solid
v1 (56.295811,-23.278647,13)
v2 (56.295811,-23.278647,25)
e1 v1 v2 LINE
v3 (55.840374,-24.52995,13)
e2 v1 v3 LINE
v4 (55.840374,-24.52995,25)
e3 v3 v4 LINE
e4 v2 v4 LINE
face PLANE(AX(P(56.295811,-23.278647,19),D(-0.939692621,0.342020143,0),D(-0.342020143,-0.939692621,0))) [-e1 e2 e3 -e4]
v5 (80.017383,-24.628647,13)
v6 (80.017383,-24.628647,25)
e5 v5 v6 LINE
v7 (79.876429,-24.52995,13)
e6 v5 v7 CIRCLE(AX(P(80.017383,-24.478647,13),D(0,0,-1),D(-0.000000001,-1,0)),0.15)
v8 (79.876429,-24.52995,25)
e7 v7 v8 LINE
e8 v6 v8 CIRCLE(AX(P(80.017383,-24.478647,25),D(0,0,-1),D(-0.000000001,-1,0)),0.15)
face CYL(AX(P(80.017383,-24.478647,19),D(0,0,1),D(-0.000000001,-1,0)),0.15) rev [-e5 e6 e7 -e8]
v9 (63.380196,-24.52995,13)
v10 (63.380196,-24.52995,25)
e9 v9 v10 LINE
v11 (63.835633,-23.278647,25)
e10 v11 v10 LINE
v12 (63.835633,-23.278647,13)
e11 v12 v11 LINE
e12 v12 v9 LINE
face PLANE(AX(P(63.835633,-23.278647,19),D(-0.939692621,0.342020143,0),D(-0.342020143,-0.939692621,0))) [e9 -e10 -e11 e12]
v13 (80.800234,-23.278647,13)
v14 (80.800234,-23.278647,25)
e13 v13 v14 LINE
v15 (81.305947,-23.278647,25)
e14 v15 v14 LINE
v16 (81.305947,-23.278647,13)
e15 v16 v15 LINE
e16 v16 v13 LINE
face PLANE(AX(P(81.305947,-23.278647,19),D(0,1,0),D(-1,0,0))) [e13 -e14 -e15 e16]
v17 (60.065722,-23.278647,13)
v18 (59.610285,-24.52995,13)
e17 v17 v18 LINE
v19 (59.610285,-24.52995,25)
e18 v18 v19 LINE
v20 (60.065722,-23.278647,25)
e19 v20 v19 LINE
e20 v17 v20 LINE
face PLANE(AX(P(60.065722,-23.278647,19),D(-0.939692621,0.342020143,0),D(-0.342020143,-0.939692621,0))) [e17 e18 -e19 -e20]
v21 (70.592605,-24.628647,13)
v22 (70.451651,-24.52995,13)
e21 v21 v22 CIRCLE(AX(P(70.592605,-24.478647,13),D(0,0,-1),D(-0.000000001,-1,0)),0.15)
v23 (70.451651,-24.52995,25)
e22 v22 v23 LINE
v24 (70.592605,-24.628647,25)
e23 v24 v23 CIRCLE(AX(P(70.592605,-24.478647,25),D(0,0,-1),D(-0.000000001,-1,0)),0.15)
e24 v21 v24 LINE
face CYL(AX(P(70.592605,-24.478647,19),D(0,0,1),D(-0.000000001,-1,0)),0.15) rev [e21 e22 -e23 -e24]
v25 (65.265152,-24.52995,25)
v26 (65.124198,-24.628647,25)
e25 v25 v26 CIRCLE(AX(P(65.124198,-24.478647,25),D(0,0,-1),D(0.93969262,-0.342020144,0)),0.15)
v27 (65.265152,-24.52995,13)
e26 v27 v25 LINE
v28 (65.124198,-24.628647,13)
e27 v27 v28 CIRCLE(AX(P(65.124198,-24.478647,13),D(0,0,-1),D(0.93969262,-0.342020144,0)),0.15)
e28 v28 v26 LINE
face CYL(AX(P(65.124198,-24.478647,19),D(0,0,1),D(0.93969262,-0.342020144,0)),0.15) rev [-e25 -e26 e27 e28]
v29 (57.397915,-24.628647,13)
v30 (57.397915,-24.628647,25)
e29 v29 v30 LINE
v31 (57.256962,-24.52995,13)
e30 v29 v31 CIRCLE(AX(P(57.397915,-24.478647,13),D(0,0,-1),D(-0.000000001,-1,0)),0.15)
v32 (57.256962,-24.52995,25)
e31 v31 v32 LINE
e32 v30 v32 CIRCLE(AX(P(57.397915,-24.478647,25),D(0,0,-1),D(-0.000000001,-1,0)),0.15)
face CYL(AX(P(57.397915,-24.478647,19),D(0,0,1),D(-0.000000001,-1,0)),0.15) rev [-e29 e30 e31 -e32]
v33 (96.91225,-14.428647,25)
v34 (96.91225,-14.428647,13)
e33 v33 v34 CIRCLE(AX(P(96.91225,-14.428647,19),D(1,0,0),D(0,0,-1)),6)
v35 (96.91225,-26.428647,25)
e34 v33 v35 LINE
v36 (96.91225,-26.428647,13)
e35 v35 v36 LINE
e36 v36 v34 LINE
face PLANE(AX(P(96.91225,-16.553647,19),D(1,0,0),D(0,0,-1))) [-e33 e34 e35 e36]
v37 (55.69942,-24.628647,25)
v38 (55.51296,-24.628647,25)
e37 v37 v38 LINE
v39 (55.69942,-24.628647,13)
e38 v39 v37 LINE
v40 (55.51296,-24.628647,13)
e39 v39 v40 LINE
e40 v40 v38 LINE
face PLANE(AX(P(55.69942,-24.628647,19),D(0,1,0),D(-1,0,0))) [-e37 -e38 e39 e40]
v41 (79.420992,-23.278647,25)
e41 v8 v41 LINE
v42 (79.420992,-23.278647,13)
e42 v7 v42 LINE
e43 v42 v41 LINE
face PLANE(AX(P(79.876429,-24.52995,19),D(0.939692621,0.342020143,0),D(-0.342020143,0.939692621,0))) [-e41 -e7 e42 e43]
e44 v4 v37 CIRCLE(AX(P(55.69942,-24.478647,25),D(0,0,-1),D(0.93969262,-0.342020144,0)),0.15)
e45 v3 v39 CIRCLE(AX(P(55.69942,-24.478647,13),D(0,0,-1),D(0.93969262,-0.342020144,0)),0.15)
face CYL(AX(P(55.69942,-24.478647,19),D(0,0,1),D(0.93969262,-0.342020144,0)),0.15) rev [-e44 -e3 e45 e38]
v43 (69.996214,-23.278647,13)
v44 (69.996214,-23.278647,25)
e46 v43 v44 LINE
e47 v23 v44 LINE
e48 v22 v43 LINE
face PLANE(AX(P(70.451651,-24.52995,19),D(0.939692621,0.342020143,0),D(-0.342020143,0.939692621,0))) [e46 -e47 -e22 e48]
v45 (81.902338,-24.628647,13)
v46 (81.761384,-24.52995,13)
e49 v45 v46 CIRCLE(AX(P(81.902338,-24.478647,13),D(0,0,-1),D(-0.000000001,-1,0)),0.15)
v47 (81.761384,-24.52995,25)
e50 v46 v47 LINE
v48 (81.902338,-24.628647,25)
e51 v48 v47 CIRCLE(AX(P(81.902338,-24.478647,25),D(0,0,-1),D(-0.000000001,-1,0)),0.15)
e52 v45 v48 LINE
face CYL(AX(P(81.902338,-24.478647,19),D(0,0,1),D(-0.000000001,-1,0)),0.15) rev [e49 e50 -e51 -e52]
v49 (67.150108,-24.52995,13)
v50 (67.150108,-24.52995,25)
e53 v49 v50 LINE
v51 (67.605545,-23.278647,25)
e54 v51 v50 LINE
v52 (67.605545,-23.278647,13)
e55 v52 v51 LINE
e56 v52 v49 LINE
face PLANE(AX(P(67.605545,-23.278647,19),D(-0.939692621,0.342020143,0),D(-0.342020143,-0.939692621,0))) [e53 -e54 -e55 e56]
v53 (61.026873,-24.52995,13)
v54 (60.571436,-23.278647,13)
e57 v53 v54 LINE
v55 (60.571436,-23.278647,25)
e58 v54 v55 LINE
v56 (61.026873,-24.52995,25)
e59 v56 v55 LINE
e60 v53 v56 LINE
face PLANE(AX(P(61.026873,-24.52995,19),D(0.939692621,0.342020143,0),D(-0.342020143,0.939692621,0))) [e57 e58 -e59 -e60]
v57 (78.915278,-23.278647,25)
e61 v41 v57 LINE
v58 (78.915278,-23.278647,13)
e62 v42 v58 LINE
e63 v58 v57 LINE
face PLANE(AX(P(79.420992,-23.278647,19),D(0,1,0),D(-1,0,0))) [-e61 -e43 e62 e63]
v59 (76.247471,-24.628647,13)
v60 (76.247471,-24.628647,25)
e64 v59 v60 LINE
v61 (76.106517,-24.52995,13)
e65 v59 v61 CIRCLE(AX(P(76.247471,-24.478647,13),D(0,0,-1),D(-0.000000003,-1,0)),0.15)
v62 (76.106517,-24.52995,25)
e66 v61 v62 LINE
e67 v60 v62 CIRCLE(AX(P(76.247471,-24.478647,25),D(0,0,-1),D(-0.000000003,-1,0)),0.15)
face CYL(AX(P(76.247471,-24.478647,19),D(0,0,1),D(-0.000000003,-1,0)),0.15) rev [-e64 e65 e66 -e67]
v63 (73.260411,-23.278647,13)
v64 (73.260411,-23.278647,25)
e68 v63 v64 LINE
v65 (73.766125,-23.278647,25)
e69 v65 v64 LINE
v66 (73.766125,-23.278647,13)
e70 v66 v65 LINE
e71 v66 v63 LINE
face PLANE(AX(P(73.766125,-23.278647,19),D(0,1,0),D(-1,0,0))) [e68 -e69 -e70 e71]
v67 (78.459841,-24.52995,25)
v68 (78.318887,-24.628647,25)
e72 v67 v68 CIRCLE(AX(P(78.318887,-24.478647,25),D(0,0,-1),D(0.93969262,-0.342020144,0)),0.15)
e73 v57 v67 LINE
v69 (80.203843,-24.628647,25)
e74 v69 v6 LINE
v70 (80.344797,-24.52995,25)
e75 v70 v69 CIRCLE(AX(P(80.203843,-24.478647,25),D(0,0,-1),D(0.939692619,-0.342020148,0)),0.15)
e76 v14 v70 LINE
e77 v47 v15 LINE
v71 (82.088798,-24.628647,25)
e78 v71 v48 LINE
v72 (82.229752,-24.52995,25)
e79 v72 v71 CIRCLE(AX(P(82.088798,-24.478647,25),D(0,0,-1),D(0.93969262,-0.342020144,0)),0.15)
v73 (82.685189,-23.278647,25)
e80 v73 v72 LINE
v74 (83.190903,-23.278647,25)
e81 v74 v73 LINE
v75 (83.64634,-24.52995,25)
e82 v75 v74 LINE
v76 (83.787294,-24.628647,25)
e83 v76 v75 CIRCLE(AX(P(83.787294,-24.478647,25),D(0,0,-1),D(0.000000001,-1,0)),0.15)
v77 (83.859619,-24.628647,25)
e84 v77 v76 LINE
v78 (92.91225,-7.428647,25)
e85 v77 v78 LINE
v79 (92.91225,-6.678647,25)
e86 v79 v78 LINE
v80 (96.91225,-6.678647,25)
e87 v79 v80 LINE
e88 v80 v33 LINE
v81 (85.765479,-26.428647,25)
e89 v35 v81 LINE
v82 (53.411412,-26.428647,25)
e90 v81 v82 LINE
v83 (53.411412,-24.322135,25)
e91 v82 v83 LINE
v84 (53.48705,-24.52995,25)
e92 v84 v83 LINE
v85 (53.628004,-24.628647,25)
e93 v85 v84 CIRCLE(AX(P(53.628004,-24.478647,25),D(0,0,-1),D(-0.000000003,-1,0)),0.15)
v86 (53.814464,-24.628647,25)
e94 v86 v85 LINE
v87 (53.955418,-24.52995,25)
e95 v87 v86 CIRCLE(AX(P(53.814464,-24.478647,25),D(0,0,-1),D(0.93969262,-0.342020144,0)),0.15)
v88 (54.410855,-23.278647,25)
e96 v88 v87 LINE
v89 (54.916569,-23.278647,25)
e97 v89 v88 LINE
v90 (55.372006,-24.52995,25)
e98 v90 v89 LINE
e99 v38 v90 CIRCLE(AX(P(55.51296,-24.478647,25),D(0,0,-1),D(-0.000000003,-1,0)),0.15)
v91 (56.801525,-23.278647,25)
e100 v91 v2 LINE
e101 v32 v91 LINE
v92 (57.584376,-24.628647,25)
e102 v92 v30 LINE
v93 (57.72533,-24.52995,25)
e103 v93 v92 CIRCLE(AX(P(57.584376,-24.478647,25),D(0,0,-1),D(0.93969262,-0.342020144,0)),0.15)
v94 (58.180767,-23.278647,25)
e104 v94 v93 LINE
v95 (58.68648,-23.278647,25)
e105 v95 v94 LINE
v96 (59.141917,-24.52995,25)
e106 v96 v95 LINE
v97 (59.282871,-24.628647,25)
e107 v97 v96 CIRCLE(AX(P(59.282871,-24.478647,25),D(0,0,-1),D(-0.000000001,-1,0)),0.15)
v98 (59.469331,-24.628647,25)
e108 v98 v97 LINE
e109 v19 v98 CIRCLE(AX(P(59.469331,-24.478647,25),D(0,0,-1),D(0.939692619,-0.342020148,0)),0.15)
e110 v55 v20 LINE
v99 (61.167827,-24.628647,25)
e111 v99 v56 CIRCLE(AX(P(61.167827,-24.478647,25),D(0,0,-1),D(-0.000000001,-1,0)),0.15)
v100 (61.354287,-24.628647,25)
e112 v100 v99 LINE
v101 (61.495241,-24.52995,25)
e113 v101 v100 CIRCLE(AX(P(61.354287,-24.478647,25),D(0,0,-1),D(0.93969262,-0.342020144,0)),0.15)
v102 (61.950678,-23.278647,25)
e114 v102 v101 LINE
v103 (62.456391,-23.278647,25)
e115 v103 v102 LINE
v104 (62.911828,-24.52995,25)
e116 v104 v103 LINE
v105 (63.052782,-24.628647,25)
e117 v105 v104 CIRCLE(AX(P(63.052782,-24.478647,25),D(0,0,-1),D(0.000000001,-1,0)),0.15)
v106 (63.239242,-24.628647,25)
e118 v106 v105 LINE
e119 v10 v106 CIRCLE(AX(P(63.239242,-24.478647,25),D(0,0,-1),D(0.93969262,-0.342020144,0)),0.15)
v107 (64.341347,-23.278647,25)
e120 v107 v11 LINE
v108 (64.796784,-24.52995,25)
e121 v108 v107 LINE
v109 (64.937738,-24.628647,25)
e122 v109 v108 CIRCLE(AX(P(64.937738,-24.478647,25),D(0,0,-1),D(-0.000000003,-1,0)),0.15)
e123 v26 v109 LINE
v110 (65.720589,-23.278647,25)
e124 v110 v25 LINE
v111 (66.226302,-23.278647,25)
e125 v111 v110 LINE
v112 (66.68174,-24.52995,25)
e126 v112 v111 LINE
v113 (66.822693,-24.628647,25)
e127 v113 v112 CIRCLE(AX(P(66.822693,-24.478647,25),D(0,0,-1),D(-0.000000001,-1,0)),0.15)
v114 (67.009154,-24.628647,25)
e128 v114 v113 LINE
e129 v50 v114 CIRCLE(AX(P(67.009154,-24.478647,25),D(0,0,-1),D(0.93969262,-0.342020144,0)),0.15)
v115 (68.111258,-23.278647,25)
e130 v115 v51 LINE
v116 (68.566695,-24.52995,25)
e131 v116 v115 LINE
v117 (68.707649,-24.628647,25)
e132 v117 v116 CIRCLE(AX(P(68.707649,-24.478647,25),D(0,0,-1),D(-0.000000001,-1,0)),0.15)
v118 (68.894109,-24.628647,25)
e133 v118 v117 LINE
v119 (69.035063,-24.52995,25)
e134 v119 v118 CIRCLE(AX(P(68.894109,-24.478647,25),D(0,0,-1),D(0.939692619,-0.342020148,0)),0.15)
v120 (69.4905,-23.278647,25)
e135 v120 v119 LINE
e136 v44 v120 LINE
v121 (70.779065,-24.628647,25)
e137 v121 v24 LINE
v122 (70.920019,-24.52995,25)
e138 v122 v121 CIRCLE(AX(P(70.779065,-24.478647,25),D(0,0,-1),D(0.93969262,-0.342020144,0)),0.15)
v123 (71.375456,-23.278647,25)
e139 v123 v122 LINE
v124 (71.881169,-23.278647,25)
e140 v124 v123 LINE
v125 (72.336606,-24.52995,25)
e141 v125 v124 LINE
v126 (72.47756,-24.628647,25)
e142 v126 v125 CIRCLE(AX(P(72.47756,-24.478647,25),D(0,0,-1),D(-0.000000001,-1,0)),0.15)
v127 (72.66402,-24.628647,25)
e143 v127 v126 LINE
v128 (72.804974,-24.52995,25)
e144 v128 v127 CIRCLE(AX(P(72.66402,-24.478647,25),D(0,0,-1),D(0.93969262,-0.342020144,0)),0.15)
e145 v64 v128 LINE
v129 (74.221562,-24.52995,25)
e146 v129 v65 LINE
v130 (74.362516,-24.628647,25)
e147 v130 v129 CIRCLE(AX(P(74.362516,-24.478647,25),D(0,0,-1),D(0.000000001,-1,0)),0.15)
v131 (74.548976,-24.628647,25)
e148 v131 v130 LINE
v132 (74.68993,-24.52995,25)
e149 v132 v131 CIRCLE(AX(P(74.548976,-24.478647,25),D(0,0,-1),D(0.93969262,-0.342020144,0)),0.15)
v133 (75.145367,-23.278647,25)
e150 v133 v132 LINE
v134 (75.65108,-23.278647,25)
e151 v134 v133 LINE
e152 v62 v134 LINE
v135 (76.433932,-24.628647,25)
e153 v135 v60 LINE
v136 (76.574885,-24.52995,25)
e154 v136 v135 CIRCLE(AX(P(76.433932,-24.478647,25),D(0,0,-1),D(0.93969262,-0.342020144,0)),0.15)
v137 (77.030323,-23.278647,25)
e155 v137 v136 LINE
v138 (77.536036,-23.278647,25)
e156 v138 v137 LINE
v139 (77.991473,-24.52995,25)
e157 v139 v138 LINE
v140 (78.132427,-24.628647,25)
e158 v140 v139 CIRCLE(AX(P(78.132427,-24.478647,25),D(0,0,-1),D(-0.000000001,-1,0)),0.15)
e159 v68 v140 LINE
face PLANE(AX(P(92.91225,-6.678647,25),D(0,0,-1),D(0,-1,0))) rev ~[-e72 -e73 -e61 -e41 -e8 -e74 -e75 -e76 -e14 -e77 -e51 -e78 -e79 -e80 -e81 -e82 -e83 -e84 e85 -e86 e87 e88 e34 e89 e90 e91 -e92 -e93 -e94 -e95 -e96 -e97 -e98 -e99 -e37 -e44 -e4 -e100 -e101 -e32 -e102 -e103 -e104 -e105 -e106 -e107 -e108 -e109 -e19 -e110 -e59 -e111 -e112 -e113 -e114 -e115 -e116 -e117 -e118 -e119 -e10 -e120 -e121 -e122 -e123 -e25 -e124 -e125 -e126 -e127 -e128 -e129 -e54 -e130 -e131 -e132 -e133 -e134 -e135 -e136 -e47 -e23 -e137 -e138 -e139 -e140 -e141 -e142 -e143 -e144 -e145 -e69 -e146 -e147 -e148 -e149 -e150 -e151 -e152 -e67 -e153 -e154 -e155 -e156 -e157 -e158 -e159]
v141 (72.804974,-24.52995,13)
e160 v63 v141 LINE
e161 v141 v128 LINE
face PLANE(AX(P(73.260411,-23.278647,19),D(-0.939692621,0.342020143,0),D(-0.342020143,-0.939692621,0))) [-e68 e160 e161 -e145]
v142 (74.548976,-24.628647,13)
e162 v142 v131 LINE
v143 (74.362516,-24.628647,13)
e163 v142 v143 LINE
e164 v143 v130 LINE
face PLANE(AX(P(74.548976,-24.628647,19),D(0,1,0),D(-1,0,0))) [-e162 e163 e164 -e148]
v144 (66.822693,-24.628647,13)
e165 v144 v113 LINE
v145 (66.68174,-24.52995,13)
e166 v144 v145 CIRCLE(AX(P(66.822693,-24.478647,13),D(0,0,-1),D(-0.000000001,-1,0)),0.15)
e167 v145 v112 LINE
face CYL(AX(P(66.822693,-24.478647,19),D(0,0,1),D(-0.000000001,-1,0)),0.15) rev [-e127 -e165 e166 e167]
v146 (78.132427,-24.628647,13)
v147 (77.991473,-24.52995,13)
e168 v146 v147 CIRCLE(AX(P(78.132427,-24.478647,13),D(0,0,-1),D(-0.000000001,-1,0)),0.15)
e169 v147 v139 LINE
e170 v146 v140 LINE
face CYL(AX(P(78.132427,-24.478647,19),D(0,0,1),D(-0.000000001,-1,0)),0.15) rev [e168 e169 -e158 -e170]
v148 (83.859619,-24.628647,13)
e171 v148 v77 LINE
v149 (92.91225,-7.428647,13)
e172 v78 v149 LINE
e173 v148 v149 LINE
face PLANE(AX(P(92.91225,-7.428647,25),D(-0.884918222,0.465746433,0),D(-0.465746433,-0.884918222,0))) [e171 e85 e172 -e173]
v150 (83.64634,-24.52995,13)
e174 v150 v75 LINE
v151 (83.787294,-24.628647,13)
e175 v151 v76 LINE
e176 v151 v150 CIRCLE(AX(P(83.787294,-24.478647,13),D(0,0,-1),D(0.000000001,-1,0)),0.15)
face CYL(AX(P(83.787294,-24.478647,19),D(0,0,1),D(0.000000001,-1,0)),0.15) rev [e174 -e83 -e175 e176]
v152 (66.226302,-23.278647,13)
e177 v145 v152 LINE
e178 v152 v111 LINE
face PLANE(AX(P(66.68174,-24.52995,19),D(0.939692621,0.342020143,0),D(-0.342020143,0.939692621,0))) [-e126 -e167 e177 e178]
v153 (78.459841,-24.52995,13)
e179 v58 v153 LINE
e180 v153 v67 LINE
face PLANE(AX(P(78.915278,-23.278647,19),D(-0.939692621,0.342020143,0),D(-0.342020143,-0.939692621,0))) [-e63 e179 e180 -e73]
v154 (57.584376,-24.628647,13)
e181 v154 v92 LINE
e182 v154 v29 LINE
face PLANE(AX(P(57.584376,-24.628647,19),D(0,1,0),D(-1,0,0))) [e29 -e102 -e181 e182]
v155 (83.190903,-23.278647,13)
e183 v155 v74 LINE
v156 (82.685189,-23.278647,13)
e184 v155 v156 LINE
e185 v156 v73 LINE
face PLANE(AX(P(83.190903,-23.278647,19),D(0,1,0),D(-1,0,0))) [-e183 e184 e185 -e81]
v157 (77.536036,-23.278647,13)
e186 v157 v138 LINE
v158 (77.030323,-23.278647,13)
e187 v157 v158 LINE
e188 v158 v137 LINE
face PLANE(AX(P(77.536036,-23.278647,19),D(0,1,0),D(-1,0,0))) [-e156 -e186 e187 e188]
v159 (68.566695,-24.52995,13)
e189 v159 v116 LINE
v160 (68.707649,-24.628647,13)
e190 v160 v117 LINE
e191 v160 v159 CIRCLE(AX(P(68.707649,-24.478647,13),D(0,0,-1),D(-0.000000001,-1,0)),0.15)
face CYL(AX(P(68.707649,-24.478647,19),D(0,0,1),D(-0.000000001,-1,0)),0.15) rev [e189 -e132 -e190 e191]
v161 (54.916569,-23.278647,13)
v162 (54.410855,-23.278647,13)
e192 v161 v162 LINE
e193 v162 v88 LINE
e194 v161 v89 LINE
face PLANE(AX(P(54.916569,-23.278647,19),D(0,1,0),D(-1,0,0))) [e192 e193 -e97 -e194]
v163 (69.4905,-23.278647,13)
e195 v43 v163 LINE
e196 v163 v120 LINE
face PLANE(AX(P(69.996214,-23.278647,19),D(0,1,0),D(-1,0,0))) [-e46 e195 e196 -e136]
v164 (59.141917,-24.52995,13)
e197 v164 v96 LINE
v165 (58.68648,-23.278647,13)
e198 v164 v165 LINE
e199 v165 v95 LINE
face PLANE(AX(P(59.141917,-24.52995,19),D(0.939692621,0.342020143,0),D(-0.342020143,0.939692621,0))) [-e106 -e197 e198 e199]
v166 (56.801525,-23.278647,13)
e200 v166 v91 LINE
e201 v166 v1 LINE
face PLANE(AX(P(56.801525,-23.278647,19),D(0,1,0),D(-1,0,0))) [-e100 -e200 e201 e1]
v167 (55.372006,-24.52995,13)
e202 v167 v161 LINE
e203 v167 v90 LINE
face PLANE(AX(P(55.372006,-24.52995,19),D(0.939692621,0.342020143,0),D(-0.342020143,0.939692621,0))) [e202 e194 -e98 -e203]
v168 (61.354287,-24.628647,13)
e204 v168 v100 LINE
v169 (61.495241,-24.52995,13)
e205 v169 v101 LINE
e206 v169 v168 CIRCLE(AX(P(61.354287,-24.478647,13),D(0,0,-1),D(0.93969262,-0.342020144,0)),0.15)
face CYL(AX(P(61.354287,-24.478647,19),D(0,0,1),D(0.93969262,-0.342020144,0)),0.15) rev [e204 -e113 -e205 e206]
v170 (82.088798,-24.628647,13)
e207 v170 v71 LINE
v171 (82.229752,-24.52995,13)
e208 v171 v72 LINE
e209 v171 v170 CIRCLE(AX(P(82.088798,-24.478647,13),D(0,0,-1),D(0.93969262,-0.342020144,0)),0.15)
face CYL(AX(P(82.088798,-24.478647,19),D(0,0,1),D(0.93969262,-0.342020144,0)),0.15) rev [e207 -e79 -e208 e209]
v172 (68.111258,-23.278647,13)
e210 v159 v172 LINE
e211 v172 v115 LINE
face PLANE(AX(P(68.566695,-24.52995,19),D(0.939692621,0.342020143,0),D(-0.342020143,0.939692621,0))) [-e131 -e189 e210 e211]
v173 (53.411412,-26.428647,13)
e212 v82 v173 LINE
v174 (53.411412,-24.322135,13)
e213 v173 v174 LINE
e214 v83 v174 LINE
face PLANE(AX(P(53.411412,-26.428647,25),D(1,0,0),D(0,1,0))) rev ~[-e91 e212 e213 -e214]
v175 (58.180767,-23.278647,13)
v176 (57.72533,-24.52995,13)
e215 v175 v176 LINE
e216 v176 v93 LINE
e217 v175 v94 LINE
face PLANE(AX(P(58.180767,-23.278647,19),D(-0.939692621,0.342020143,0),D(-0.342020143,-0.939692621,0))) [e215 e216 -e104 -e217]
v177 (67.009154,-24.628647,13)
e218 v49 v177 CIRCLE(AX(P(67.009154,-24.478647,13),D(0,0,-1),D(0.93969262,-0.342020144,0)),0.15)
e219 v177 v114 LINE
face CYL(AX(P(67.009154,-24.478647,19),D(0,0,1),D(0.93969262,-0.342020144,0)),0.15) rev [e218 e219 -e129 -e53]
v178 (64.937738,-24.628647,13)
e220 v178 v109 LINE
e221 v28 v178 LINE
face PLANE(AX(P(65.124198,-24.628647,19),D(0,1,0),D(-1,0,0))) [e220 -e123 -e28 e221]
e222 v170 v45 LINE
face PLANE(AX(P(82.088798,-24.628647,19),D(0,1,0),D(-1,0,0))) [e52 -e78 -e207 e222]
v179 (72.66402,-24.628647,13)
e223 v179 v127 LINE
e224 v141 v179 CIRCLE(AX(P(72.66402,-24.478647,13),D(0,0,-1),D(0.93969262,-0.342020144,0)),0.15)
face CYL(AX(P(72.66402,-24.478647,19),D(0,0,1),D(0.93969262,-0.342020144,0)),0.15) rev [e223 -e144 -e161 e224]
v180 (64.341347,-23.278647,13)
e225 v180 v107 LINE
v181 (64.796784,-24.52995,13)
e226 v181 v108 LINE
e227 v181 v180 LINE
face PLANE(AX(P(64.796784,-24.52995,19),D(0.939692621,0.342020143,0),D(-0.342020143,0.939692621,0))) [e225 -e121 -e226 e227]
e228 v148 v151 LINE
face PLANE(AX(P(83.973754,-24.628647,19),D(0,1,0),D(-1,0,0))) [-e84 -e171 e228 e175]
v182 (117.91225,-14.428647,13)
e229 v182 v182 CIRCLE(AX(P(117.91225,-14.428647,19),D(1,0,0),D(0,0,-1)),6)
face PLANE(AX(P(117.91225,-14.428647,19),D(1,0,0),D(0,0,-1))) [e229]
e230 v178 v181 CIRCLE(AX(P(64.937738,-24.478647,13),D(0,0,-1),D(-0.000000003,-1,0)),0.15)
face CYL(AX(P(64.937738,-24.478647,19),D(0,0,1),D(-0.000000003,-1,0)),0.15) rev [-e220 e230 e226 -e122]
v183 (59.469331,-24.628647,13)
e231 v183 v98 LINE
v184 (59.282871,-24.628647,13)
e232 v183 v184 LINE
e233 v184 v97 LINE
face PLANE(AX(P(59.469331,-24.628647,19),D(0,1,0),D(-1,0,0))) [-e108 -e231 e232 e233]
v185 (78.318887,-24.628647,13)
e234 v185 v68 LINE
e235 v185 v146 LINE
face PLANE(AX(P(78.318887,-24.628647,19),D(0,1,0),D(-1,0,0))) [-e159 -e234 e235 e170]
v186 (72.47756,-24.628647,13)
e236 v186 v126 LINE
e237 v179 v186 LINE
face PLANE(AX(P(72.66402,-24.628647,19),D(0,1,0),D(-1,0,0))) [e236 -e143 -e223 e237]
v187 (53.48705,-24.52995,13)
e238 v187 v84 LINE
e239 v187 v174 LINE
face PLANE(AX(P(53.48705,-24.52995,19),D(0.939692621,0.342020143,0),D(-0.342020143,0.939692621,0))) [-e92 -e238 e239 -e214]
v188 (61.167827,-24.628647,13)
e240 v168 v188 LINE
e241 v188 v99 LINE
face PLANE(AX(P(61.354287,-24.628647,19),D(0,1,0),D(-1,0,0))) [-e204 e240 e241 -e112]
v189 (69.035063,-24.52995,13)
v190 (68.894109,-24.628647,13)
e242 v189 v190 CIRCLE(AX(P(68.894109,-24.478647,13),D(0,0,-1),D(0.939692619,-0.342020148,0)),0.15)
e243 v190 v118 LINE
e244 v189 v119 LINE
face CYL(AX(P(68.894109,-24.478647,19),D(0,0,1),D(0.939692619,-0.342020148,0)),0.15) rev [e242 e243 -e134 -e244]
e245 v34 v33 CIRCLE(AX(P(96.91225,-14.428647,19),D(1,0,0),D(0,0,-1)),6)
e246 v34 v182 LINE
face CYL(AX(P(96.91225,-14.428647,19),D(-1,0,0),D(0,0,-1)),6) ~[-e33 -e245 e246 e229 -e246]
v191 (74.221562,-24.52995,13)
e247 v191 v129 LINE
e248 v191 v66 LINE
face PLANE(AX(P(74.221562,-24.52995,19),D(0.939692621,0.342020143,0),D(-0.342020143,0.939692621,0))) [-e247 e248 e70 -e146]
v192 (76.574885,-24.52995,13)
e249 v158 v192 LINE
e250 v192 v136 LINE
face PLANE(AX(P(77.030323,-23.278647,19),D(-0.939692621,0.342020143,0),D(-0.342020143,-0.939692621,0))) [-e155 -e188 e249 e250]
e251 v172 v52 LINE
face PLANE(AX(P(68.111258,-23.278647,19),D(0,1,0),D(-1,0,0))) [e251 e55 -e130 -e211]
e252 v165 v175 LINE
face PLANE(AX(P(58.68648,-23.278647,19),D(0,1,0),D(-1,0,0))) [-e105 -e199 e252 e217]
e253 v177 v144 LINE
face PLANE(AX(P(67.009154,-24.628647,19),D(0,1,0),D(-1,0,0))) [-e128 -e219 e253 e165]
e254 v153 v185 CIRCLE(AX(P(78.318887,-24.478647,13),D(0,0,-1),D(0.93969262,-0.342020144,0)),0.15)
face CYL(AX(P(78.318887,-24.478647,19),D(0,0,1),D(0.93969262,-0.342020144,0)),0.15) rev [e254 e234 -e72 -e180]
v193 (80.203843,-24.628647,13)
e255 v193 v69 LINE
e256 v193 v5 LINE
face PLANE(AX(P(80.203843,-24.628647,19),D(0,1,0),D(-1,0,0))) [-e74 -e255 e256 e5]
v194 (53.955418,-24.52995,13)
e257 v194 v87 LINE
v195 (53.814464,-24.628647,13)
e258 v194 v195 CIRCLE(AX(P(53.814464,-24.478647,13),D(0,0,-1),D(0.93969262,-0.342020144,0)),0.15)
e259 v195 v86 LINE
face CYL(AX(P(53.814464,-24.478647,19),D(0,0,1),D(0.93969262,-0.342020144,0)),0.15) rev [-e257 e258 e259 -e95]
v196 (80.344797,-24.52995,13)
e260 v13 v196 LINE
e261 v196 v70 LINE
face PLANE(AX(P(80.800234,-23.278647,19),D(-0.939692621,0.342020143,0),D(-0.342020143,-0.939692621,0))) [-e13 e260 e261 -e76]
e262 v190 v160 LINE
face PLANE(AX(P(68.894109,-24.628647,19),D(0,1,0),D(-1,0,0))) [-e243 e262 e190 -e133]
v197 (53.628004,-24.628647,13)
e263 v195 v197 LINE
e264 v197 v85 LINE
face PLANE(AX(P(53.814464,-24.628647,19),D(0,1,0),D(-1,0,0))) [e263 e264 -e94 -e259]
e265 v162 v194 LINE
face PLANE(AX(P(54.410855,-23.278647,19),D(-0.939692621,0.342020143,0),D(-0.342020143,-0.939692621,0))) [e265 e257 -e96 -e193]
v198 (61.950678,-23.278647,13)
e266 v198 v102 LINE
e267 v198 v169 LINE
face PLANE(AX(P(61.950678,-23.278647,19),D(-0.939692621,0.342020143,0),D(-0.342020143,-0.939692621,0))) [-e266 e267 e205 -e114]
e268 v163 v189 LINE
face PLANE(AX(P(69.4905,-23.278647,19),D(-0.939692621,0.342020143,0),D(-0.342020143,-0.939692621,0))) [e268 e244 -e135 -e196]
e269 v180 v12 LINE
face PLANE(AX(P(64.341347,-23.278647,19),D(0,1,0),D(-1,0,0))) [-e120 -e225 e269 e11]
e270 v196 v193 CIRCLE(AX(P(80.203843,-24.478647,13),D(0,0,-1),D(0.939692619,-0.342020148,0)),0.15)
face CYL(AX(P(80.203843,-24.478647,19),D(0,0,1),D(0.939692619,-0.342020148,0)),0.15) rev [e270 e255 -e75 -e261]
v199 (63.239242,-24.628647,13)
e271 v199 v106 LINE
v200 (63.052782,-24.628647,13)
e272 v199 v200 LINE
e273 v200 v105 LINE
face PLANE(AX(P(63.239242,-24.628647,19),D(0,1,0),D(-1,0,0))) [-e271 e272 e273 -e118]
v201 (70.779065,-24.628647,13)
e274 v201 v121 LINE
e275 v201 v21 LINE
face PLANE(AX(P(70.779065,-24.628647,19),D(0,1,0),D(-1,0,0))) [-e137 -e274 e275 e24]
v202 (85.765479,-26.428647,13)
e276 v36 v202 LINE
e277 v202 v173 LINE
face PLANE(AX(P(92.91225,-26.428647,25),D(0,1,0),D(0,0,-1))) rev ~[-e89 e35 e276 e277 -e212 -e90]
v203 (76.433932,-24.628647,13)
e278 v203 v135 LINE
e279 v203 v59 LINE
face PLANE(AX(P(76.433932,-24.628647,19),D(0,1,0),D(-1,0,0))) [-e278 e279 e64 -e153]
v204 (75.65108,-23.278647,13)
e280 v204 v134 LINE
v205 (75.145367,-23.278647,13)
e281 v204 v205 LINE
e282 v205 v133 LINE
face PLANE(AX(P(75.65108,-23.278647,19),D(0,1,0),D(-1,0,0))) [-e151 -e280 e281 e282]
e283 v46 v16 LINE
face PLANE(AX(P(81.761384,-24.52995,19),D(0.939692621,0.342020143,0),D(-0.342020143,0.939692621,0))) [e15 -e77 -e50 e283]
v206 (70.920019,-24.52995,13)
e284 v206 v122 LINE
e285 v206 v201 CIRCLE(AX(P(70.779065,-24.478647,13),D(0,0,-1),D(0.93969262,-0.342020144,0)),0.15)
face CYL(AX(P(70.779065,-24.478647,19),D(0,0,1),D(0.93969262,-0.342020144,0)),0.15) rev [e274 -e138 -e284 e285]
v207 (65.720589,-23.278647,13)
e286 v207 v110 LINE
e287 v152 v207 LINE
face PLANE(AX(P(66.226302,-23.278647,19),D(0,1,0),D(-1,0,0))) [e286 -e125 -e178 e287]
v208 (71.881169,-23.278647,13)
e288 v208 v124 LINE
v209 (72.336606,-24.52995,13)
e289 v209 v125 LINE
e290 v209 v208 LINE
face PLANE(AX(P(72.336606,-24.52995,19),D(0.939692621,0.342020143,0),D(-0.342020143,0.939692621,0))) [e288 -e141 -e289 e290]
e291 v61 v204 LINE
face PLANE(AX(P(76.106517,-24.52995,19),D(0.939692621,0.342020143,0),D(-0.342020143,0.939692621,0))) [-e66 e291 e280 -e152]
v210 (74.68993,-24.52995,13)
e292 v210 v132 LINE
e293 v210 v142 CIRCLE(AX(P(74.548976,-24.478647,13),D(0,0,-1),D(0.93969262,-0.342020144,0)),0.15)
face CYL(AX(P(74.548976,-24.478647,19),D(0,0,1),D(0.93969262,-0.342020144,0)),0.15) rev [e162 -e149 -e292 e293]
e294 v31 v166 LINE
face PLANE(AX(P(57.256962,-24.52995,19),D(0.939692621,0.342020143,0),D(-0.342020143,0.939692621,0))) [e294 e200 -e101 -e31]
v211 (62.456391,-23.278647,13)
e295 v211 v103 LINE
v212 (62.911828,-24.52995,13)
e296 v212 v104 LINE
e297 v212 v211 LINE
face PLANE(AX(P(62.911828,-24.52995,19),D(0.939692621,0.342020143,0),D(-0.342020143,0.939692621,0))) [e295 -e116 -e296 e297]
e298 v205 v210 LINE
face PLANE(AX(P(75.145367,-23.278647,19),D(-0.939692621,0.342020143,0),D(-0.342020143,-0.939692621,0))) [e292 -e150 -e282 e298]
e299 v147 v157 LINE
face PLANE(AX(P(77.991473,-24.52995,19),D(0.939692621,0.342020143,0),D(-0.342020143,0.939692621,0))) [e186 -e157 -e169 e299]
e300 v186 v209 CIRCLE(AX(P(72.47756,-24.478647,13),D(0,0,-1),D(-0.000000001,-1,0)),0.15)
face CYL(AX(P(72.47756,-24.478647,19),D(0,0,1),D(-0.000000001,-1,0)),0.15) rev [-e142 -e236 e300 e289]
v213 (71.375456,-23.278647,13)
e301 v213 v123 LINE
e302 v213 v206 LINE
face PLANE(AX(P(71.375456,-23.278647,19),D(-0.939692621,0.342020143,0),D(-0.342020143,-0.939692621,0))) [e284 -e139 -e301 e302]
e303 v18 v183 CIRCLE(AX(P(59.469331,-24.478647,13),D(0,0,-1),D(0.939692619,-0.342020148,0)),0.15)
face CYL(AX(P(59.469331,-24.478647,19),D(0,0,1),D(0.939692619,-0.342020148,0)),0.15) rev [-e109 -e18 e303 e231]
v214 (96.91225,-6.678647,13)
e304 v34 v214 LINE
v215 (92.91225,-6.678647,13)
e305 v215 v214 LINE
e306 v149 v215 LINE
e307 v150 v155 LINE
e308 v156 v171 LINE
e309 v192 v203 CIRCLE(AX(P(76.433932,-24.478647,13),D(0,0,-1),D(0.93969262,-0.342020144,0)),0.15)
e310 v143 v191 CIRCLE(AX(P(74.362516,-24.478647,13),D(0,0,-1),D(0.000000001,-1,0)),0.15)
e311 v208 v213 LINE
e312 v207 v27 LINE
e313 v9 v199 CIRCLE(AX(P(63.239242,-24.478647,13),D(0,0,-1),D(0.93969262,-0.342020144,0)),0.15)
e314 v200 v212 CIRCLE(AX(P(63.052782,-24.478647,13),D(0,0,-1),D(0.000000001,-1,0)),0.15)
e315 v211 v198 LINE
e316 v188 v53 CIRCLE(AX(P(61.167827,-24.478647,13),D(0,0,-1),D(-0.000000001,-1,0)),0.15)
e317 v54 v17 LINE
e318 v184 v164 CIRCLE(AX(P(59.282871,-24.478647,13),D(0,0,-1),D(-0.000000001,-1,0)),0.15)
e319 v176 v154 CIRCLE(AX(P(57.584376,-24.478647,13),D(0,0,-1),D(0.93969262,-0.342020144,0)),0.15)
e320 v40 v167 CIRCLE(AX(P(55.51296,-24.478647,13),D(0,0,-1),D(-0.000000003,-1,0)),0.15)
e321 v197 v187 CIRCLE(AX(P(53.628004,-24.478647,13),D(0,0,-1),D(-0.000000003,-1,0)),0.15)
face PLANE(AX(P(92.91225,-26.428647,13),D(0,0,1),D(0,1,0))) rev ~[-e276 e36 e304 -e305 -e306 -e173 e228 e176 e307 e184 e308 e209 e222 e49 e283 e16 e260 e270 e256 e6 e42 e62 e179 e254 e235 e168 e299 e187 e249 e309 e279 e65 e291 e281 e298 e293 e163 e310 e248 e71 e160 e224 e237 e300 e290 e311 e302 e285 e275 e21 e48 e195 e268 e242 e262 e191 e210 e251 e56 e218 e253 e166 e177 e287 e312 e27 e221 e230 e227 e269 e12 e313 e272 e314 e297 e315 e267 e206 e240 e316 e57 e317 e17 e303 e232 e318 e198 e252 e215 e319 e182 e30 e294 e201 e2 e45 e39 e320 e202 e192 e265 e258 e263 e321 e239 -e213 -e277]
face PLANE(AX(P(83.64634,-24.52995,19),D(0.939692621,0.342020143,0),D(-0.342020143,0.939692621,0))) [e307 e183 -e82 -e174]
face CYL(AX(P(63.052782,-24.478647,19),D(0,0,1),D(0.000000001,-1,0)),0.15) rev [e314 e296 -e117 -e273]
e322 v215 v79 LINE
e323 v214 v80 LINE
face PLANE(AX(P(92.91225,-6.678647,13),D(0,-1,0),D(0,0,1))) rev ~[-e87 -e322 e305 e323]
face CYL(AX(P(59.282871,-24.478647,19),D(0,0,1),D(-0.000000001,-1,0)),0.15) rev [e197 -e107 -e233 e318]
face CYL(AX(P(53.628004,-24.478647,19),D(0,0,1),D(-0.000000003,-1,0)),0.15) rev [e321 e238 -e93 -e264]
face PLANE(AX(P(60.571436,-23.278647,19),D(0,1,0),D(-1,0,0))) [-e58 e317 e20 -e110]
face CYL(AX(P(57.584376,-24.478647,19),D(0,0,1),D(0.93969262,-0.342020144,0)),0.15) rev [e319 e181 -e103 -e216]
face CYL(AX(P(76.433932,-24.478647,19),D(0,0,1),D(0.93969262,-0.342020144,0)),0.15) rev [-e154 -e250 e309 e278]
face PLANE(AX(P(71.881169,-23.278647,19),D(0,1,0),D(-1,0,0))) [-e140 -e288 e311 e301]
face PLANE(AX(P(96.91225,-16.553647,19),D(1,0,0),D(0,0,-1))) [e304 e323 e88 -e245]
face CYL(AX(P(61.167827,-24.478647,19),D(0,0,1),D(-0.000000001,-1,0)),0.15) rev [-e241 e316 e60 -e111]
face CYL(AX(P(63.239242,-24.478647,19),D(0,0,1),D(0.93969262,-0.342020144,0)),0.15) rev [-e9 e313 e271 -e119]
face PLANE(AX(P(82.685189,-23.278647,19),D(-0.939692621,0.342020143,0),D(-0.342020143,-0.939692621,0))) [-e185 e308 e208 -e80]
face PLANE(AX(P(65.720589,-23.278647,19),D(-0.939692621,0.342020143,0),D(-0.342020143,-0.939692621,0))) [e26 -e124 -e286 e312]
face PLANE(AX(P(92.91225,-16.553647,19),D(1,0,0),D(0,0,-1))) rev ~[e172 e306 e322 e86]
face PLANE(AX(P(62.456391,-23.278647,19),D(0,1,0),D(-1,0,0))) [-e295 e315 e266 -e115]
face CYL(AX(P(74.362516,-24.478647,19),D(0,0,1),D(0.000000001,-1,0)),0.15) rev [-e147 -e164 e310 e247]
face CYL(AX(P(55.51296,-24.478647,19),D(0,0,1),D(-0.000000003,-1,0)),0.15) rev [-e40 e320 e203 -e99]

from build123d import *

# Parameters (mm, degrees)
BOSS_EXTRUDE1_DEPTH = 20
SCALE1_SCALE        = 0.3
BOSS_EXTRUDE5_DEPTH = 12
BOSS_EXTRUDE2_DEPTH = 4
SKETCH5_R           = 6
BOSS_EXTRUDE3_DEPTH = 21
SKETCH10_W          = 7.23
SKETCH10_H          = 3.15
CUT_EXTRUDE1_DEPTH  = 12


with BuildPart() as part:
    # Sketch1 → Boss-Extrude1 (new, symmetric)
    with BuildSketch(Plane.XY.offset(19)):
        with BuildLine():
            Line((0, -23.5), (0, -29.5))
            Line((0, -29.5), (131.946891451, -29.5))
            Line((131.946891451, -29.5), (131.946891451, -23.5))
            Line((131.946891451, -23.5), (131.636124479, -23.5))
            ThreePointArc((131.636124479, -23.5), (131.349336261, -23.409576022), (131.166278168, -23.171010072))
            Line((131.166278168, -23.171010072), (129.648154655, -19))
            Line((129.648154655, -19), (127.962442939, -19))
            Line((127.962442939, -19), (126.444319426, -23.171010072))
            ThreePointArc((126.444319426, -23.171010072), (126.261261334, -23.409576022), (125.974473116, -23.5))
            Line((125.974473116, -23.5), (125.352939172, -23.5))
            ThreePointArc((125.352939172, -23.5), (125.066150953, -23.409576022), (124.883092861, -23.171010072))
            Line((124.883092861, -23.171010072), (123.364969348, -19))
            Line((123.364969348, -19), (121.679257632, -19))
            Line((121.679257632, -19), (120.161134119, -23.171010072))
            ThreePointArc((120.161134119, -23.171010072), (119.978076027, -23.409576022), (119.691287808, -23.5))
            Line((119.691287808, -23.5), (119.069753864, -23.5))
            ThreePointArc((119.069753864, -23.5), (118.782965646, -23.409576022), (118.599907554, -23.171010072))
            Line((118.599907554, -23.171010072), (117.081784041, -19))
            Line((117.081784041, -19), (115.396072325, -19))
            Line((115.396072325, -19), (113.877948812, -23.171010072))
            ThreePointArc((113.877948812, -23.171010072), (113.694890719, -23.409576022), (113.408102501, -23.5))
            Line((113.408102501, -23.5), (112.786568557, -23.5))
            ThreePointArc((112.786568557, -23.5), (112.499780339, -23.409576022), (112.316722247, -23.171010072))
            Line((112.316722247, -23.171010072), (110.798598734, -19))
            Line((110.798598734, -19), (109.112887017, -19))
            Line((109.112887017, -19), (107.594763504, -23.171010072))
            ThreePointArc((107.594763504, -23.171010072), (107.411705412, -23.409576022), (107.124917194, -23.5))
            Line((107.124917194, -23.5), (106.50338325, -23.5))
            ThreePointArc((106.50338325, -23.5), (106.216595032, -23.409576022), (106.03353694, -23.171010072))
            Line((106.03353694, -23.171010072), (104.515413427, -19))
            Line((104.515413427, -19), (102.82970171, -19))
            Line((102.82970171, -19), (101.311578197, -23.171010072))
            ThreePointArc((101.311578197, -23.171010072), (101.128520105, -23.409576022), (100.841731887, -23.5))
            Line((100.841731887, -23.5), (100.220197943, -23.5))
            ThreePointArc((100.220197943, -23.5), (99.933409725, -23.409576022), (99.750351632, -23.171010072))
            Line((99.750351632, -23.171010072), (98.23222812, -19))
            Line((98.23222812, -19), (96.546516403, -19))
            Line((96.546516403, -19), (95.02839289, -23.171010072))
            ThreePointArc((95.02839289, -23.171010072), (94.845334798, -23.409576022), (94.55854658, -23.5))
            Line((94.55854658, -23.5), (93.937012636, -23.5))
            ThreePointArc((93.937012636, -23.5), (93.650224417, -23.409576022), (93.467166325, -23.171010072))
            Line((93.467166325, -23.171010072), (91.949042812, -19))
            Line((91.949042812, -19), (90.263331096, -19))
            Line((90.263331096, -19), (88.745207583, -23.171010072))
            ThreePointArc((88.745207583, -23.171010072), (88.562149491, -23.409576022), (88.275361273, -23.5))
            Line((88.275361273, -23.5), (87.653827328, -23.5))
            ThreePointArc((87.653827328, -23.5), (87.36703911, -23.409576022), (87.183981018, -23.171010072))
            Line((87.183981018, -23.171010072), (85.665857505, -19))
            Line((85.665857505, -19), (83.980145789, -19))
            Line((83.980145789, -19), (82.462022276, -23.171010072))
            ThreePointArc((82.462022276, -23.171010072), (82.278964184, -23.409576022), (81.992175965, -23.5))
            Line((81.992175965, -23.5), (81.370642021, -23.5))
            ThreePointArc((81.370642021, -23.5), (81.083853803, -23.409576022), (80.900795711, -23.171010072))
            Line((80.900795711, -23.171010072), (79.382672198, -19))
            Line((79.382672198, -19), (77.696960481, -19))
            Line((77.696960481, -19), (76.178836969, -23.171010072))
            ThreePointArc((76.178836969, -23.171010072), (75.995778876, -23.409576022), (75.708990658, -23.5))
            Line((75.708990658, -23.5), (75.087456714, -23.5))
            ThreePointArc((75.087456714, -23.5), (74.800668496, -23.409576022), (74.617610404, -23.171010072))
            Line((74.617610404, -23.171010072), (73.099486891, -19))
            Line((73.099486891, -19), (71.413775174, -19))
            Line((71.413775174, -19), (69.895651661, -23.171010072))
            ThreePointArc((69.895651661, -23.171010072), (69.712593569, -23.409576022), (69.425805351, -23.5))
            Line((69.425805351, -23.5), (68.804271407, -23.5))
            ThreePointArc((68.804271407, -23.5), (68.517483189, -23.409576022), (68.334425097, -23.171010072))
            Line((68.334425097, -23.171010072), (66.816301584, -19))
            Line((66.816301584, -19), (65.130589867, -19))
            Line((65.130589867, -19), (63.612466354, -23.171010072))
            ThreePointArc((63.612466354, -23.171010072), (63.429408262, -23.409576022), (63.142620044, -23.5))
            Line((63.142620044, -23.5), (62.5210861, -23.5))
            ThreePointArc((62.5210861, -23.5), (62.234297882, -23.409576022), (62.051239789, -23.171010072))
            Line((62.051239789, -23.171010072), (60.533116276, -19))
            Line((60.533116276, -19), (58.84740456, -19))
            Line((58.84740456, -19), (57.329281047, -23.171010072))
            ThreePointArc((57.329281047, -23.171010072), (57.146222955, -23.409576022), (56.859434737, -23.5))
            Line((56.859434737, -23.5), (56.237900793, -23.5))
            ThreePointArc((56.237900793, -23.5), (55.951112574, -23.409576022), (55.768054482, -23.171010072))
            Line((55.768054482, -23.171010072), (54.249930969, -19))
            Line((54.249930969, -19), (52.564219253, -19))
            Line((52.564219253, -19), (51.04609574, -23.171010072))
            ThreePointArc((51.04609574, -23.171010072), (50.863037648, -23.409576022), (50.576249429, -23.5))
            Line((50.576249429, -23.5), (49.954715485, -23.5))
            ThreePointArc((49.954715485, -23.5), (49.667927267, -23.409576022), (49.484869175, -23.171010072))
            Line((49.484869175, -23.171010072), (47.966745662, -19))
            Line((47.966745662, -19), (46.281033946, -19))
            Line((46.281033946, -19), (44.762910433, -23.171010072))
            ThreePointArc((44.762910433, -23.171010072), (44.57985234, -23.409576022), (44.293064122, -23.5))
            Line((44.293064122, -23.5), (43.671530178, -23.5))
            ThreePointArc((43.671530178, -23.5), (43.38474196, -23.409576022), (43.201683868, -23.171010072))
            Line((43.201683868, -23.171010072), (41.683560355, -19))
            Line((41.683560355, -19), (39.997848638, -19))
            Line((39.997848638, -19), (38.479725125, -23.171010072))
            ThreePointArc((38.479725125, -23.171010072), (38.296667033, -23.409576022), (38.009878815, -23.5))
            Line((38.009878815, -23.5), (37.388344871, -23.5))
            ThreePointArc((37.388344871, -23.5), (37.101556653, -23.409576022), (36.918498561, -23.171010072))
            Line((36.918498561, -23.171010072), (35.400375048, -19))
            Line((35.400375048, -19), (33.714663331, -19))
            Line((33.714663331, -19), (32.196539818, -23.171010072))
            ThreePointArc((32.196539818, -23.171010072), (32.013481726, -23.409576022), (31.726693508, -23.5))
            Line((31.726693508, -23.5), (31.105159564, -23.5))
            ThreePointArc((31.105159564, -23.5), (30.818371346, -23.409576022), (30.635313253, -23.171010072))
            Line((30.635313253, -23.171010072), (29.117189741, -19))
            Line((29.117189741, -19), (27.431478024, -19))
            Line((27.431478024, -19), (25.913354511, -23.171010072))
            ThreePointArc((25.913354511, -23.171010072), (25.730296419, -23.409576022), (25.443508201, -23.5))
            Line((25.443508201, -23.5), (24.821974257, -23.5))
            ThreePointArc((24.821974257, -23.5), (24.535186039, -23.409576022), (24.352127946, -23.171010072))
            Line((24.352127946, -23.171010072), (22.834004433, -19))
            Line((22.834004433, -19), (21.148292717, -19))
            Line((21.148292717, -19), (19.630169204, -23.171010072))
            ThreePointArc((19.630169204, -23.171010072), (19.447111112, -23.409576022), (19.160322894, -23.5))
            Line((19.160322894, -23.5), (18.53878895, -23.5))
            ThreePointArc((18.53878895, -23.5), (18.252000731, -23.409576022), (18.068942639, -23.171010072))
            Line((18.068942639, -23.171010072), (16.550819126, -19))
            Line((16.550819126, -19), (14.86510741, -19))
            Line((14.86510741, -19), (13.346983897, -23.171010072))
            ThreePointArc((13.346983897, -23.171010072), (13.163925805, -23.409576022), (12.877137586, -23.5))
            Line((12.877137586, -23.5), (12.255603642, -23.5))
            ThreePointArc((12.255603642, -23.5), (11.968815424, -23.409576022), (11.785757332, -23.171010072))
            Line((11.785757332, -23.171010072), (10.267633819, -19))
            Line((10.267633819, -19), (8.581922103, -19))
            Line((8.581922103, -19), (7.06379859, -23.171010072))
            ThreePointArc((7.06379859, -23.171010072), (6.880740497, -23.409576022), (6.593952279, -23.5))
            Line((6.593952279, -23.5), (5.972418335, -23.5))
            ThreePointArc((5.972418335, -23.5), (5.685630117, -23.409576022), (5.502572025, -23.171010072))
            Line((5.502572025, -23.171010072), (3.984448512, -19))
            Line((3.984448512, -19), (2.298736795, -19))
            Line((2.298736795, -19), (0.780613282, -23.171010072))
            ThreePointArc((0.780613282, -23.171010072), (0.59755519, -23.409576022), (0.310766972, -23.5))
            Line((0.310766972, -23.5), (0, -23.5))
        make_face()
    extrude(amount=BOSS_EXTRUDE1_DEPTH, both=True)


with BuildPart() as part_1:
    # Scale1: scaled about (65.973445725, -25.112352152, 19)
    add(part.part.scale(SCALE1_SCALE).moved(Location((46.181412008, -17.578646506, 13.3))))

    # Sketch8 → Boss-Extrude5 (add)
    with BuildSketch(Plane.XY.offset(25)):
        Polygon((82.912250153, -26.428646507), (92.912250153, -26.428646507), (92.912250153, -7.428646507), align=None)
    extrude(amount=-BOSS_EXTRUDE5_DEPTH)

    # Sketch4 → Boss-Extrude2 (add)
    with BuildSketch(Plane(origin=(92.912250153, 0, 0), x_dir=(0, 0, -1), z_dir=(1, 0, 0))):
        Polygon((-13, -26.428646507), (-13, -14.428646507), (-13, -6.678646507), (-25, -6.678646507), (-25, -14.428646507), (-25, -26.428646507), align=None)
    extrude(amount=BOSS_EXTRUDE2_DEPTH)

    # Sketch5 → Boss-Extrude3 (add)
    with BuildSketch(Plane(origin=(96.912250153, 0, 0), x_dir=(0, 0, -1), z_dir=(1, 0, 0))):
        with Locations((-19, -14.428646507)):
            Circle(SKETCH5_R)
    extrude(amount=BOSS_EXTRUDE3_DEPTH)

    # Sketch10 → Cut-Extrude1 (cut)
    with BuildSketch(Plane.XY.offset(25)):
        with Locations((49.796412008, -24.853646507)):
            Rectangle(SKETCH10_W, SKETCH10_H)
    extrude(amount=-CUT_EXTRUDE1_DEPTH, mode=Mode.SUBTRACT)


solid = part_1.part
